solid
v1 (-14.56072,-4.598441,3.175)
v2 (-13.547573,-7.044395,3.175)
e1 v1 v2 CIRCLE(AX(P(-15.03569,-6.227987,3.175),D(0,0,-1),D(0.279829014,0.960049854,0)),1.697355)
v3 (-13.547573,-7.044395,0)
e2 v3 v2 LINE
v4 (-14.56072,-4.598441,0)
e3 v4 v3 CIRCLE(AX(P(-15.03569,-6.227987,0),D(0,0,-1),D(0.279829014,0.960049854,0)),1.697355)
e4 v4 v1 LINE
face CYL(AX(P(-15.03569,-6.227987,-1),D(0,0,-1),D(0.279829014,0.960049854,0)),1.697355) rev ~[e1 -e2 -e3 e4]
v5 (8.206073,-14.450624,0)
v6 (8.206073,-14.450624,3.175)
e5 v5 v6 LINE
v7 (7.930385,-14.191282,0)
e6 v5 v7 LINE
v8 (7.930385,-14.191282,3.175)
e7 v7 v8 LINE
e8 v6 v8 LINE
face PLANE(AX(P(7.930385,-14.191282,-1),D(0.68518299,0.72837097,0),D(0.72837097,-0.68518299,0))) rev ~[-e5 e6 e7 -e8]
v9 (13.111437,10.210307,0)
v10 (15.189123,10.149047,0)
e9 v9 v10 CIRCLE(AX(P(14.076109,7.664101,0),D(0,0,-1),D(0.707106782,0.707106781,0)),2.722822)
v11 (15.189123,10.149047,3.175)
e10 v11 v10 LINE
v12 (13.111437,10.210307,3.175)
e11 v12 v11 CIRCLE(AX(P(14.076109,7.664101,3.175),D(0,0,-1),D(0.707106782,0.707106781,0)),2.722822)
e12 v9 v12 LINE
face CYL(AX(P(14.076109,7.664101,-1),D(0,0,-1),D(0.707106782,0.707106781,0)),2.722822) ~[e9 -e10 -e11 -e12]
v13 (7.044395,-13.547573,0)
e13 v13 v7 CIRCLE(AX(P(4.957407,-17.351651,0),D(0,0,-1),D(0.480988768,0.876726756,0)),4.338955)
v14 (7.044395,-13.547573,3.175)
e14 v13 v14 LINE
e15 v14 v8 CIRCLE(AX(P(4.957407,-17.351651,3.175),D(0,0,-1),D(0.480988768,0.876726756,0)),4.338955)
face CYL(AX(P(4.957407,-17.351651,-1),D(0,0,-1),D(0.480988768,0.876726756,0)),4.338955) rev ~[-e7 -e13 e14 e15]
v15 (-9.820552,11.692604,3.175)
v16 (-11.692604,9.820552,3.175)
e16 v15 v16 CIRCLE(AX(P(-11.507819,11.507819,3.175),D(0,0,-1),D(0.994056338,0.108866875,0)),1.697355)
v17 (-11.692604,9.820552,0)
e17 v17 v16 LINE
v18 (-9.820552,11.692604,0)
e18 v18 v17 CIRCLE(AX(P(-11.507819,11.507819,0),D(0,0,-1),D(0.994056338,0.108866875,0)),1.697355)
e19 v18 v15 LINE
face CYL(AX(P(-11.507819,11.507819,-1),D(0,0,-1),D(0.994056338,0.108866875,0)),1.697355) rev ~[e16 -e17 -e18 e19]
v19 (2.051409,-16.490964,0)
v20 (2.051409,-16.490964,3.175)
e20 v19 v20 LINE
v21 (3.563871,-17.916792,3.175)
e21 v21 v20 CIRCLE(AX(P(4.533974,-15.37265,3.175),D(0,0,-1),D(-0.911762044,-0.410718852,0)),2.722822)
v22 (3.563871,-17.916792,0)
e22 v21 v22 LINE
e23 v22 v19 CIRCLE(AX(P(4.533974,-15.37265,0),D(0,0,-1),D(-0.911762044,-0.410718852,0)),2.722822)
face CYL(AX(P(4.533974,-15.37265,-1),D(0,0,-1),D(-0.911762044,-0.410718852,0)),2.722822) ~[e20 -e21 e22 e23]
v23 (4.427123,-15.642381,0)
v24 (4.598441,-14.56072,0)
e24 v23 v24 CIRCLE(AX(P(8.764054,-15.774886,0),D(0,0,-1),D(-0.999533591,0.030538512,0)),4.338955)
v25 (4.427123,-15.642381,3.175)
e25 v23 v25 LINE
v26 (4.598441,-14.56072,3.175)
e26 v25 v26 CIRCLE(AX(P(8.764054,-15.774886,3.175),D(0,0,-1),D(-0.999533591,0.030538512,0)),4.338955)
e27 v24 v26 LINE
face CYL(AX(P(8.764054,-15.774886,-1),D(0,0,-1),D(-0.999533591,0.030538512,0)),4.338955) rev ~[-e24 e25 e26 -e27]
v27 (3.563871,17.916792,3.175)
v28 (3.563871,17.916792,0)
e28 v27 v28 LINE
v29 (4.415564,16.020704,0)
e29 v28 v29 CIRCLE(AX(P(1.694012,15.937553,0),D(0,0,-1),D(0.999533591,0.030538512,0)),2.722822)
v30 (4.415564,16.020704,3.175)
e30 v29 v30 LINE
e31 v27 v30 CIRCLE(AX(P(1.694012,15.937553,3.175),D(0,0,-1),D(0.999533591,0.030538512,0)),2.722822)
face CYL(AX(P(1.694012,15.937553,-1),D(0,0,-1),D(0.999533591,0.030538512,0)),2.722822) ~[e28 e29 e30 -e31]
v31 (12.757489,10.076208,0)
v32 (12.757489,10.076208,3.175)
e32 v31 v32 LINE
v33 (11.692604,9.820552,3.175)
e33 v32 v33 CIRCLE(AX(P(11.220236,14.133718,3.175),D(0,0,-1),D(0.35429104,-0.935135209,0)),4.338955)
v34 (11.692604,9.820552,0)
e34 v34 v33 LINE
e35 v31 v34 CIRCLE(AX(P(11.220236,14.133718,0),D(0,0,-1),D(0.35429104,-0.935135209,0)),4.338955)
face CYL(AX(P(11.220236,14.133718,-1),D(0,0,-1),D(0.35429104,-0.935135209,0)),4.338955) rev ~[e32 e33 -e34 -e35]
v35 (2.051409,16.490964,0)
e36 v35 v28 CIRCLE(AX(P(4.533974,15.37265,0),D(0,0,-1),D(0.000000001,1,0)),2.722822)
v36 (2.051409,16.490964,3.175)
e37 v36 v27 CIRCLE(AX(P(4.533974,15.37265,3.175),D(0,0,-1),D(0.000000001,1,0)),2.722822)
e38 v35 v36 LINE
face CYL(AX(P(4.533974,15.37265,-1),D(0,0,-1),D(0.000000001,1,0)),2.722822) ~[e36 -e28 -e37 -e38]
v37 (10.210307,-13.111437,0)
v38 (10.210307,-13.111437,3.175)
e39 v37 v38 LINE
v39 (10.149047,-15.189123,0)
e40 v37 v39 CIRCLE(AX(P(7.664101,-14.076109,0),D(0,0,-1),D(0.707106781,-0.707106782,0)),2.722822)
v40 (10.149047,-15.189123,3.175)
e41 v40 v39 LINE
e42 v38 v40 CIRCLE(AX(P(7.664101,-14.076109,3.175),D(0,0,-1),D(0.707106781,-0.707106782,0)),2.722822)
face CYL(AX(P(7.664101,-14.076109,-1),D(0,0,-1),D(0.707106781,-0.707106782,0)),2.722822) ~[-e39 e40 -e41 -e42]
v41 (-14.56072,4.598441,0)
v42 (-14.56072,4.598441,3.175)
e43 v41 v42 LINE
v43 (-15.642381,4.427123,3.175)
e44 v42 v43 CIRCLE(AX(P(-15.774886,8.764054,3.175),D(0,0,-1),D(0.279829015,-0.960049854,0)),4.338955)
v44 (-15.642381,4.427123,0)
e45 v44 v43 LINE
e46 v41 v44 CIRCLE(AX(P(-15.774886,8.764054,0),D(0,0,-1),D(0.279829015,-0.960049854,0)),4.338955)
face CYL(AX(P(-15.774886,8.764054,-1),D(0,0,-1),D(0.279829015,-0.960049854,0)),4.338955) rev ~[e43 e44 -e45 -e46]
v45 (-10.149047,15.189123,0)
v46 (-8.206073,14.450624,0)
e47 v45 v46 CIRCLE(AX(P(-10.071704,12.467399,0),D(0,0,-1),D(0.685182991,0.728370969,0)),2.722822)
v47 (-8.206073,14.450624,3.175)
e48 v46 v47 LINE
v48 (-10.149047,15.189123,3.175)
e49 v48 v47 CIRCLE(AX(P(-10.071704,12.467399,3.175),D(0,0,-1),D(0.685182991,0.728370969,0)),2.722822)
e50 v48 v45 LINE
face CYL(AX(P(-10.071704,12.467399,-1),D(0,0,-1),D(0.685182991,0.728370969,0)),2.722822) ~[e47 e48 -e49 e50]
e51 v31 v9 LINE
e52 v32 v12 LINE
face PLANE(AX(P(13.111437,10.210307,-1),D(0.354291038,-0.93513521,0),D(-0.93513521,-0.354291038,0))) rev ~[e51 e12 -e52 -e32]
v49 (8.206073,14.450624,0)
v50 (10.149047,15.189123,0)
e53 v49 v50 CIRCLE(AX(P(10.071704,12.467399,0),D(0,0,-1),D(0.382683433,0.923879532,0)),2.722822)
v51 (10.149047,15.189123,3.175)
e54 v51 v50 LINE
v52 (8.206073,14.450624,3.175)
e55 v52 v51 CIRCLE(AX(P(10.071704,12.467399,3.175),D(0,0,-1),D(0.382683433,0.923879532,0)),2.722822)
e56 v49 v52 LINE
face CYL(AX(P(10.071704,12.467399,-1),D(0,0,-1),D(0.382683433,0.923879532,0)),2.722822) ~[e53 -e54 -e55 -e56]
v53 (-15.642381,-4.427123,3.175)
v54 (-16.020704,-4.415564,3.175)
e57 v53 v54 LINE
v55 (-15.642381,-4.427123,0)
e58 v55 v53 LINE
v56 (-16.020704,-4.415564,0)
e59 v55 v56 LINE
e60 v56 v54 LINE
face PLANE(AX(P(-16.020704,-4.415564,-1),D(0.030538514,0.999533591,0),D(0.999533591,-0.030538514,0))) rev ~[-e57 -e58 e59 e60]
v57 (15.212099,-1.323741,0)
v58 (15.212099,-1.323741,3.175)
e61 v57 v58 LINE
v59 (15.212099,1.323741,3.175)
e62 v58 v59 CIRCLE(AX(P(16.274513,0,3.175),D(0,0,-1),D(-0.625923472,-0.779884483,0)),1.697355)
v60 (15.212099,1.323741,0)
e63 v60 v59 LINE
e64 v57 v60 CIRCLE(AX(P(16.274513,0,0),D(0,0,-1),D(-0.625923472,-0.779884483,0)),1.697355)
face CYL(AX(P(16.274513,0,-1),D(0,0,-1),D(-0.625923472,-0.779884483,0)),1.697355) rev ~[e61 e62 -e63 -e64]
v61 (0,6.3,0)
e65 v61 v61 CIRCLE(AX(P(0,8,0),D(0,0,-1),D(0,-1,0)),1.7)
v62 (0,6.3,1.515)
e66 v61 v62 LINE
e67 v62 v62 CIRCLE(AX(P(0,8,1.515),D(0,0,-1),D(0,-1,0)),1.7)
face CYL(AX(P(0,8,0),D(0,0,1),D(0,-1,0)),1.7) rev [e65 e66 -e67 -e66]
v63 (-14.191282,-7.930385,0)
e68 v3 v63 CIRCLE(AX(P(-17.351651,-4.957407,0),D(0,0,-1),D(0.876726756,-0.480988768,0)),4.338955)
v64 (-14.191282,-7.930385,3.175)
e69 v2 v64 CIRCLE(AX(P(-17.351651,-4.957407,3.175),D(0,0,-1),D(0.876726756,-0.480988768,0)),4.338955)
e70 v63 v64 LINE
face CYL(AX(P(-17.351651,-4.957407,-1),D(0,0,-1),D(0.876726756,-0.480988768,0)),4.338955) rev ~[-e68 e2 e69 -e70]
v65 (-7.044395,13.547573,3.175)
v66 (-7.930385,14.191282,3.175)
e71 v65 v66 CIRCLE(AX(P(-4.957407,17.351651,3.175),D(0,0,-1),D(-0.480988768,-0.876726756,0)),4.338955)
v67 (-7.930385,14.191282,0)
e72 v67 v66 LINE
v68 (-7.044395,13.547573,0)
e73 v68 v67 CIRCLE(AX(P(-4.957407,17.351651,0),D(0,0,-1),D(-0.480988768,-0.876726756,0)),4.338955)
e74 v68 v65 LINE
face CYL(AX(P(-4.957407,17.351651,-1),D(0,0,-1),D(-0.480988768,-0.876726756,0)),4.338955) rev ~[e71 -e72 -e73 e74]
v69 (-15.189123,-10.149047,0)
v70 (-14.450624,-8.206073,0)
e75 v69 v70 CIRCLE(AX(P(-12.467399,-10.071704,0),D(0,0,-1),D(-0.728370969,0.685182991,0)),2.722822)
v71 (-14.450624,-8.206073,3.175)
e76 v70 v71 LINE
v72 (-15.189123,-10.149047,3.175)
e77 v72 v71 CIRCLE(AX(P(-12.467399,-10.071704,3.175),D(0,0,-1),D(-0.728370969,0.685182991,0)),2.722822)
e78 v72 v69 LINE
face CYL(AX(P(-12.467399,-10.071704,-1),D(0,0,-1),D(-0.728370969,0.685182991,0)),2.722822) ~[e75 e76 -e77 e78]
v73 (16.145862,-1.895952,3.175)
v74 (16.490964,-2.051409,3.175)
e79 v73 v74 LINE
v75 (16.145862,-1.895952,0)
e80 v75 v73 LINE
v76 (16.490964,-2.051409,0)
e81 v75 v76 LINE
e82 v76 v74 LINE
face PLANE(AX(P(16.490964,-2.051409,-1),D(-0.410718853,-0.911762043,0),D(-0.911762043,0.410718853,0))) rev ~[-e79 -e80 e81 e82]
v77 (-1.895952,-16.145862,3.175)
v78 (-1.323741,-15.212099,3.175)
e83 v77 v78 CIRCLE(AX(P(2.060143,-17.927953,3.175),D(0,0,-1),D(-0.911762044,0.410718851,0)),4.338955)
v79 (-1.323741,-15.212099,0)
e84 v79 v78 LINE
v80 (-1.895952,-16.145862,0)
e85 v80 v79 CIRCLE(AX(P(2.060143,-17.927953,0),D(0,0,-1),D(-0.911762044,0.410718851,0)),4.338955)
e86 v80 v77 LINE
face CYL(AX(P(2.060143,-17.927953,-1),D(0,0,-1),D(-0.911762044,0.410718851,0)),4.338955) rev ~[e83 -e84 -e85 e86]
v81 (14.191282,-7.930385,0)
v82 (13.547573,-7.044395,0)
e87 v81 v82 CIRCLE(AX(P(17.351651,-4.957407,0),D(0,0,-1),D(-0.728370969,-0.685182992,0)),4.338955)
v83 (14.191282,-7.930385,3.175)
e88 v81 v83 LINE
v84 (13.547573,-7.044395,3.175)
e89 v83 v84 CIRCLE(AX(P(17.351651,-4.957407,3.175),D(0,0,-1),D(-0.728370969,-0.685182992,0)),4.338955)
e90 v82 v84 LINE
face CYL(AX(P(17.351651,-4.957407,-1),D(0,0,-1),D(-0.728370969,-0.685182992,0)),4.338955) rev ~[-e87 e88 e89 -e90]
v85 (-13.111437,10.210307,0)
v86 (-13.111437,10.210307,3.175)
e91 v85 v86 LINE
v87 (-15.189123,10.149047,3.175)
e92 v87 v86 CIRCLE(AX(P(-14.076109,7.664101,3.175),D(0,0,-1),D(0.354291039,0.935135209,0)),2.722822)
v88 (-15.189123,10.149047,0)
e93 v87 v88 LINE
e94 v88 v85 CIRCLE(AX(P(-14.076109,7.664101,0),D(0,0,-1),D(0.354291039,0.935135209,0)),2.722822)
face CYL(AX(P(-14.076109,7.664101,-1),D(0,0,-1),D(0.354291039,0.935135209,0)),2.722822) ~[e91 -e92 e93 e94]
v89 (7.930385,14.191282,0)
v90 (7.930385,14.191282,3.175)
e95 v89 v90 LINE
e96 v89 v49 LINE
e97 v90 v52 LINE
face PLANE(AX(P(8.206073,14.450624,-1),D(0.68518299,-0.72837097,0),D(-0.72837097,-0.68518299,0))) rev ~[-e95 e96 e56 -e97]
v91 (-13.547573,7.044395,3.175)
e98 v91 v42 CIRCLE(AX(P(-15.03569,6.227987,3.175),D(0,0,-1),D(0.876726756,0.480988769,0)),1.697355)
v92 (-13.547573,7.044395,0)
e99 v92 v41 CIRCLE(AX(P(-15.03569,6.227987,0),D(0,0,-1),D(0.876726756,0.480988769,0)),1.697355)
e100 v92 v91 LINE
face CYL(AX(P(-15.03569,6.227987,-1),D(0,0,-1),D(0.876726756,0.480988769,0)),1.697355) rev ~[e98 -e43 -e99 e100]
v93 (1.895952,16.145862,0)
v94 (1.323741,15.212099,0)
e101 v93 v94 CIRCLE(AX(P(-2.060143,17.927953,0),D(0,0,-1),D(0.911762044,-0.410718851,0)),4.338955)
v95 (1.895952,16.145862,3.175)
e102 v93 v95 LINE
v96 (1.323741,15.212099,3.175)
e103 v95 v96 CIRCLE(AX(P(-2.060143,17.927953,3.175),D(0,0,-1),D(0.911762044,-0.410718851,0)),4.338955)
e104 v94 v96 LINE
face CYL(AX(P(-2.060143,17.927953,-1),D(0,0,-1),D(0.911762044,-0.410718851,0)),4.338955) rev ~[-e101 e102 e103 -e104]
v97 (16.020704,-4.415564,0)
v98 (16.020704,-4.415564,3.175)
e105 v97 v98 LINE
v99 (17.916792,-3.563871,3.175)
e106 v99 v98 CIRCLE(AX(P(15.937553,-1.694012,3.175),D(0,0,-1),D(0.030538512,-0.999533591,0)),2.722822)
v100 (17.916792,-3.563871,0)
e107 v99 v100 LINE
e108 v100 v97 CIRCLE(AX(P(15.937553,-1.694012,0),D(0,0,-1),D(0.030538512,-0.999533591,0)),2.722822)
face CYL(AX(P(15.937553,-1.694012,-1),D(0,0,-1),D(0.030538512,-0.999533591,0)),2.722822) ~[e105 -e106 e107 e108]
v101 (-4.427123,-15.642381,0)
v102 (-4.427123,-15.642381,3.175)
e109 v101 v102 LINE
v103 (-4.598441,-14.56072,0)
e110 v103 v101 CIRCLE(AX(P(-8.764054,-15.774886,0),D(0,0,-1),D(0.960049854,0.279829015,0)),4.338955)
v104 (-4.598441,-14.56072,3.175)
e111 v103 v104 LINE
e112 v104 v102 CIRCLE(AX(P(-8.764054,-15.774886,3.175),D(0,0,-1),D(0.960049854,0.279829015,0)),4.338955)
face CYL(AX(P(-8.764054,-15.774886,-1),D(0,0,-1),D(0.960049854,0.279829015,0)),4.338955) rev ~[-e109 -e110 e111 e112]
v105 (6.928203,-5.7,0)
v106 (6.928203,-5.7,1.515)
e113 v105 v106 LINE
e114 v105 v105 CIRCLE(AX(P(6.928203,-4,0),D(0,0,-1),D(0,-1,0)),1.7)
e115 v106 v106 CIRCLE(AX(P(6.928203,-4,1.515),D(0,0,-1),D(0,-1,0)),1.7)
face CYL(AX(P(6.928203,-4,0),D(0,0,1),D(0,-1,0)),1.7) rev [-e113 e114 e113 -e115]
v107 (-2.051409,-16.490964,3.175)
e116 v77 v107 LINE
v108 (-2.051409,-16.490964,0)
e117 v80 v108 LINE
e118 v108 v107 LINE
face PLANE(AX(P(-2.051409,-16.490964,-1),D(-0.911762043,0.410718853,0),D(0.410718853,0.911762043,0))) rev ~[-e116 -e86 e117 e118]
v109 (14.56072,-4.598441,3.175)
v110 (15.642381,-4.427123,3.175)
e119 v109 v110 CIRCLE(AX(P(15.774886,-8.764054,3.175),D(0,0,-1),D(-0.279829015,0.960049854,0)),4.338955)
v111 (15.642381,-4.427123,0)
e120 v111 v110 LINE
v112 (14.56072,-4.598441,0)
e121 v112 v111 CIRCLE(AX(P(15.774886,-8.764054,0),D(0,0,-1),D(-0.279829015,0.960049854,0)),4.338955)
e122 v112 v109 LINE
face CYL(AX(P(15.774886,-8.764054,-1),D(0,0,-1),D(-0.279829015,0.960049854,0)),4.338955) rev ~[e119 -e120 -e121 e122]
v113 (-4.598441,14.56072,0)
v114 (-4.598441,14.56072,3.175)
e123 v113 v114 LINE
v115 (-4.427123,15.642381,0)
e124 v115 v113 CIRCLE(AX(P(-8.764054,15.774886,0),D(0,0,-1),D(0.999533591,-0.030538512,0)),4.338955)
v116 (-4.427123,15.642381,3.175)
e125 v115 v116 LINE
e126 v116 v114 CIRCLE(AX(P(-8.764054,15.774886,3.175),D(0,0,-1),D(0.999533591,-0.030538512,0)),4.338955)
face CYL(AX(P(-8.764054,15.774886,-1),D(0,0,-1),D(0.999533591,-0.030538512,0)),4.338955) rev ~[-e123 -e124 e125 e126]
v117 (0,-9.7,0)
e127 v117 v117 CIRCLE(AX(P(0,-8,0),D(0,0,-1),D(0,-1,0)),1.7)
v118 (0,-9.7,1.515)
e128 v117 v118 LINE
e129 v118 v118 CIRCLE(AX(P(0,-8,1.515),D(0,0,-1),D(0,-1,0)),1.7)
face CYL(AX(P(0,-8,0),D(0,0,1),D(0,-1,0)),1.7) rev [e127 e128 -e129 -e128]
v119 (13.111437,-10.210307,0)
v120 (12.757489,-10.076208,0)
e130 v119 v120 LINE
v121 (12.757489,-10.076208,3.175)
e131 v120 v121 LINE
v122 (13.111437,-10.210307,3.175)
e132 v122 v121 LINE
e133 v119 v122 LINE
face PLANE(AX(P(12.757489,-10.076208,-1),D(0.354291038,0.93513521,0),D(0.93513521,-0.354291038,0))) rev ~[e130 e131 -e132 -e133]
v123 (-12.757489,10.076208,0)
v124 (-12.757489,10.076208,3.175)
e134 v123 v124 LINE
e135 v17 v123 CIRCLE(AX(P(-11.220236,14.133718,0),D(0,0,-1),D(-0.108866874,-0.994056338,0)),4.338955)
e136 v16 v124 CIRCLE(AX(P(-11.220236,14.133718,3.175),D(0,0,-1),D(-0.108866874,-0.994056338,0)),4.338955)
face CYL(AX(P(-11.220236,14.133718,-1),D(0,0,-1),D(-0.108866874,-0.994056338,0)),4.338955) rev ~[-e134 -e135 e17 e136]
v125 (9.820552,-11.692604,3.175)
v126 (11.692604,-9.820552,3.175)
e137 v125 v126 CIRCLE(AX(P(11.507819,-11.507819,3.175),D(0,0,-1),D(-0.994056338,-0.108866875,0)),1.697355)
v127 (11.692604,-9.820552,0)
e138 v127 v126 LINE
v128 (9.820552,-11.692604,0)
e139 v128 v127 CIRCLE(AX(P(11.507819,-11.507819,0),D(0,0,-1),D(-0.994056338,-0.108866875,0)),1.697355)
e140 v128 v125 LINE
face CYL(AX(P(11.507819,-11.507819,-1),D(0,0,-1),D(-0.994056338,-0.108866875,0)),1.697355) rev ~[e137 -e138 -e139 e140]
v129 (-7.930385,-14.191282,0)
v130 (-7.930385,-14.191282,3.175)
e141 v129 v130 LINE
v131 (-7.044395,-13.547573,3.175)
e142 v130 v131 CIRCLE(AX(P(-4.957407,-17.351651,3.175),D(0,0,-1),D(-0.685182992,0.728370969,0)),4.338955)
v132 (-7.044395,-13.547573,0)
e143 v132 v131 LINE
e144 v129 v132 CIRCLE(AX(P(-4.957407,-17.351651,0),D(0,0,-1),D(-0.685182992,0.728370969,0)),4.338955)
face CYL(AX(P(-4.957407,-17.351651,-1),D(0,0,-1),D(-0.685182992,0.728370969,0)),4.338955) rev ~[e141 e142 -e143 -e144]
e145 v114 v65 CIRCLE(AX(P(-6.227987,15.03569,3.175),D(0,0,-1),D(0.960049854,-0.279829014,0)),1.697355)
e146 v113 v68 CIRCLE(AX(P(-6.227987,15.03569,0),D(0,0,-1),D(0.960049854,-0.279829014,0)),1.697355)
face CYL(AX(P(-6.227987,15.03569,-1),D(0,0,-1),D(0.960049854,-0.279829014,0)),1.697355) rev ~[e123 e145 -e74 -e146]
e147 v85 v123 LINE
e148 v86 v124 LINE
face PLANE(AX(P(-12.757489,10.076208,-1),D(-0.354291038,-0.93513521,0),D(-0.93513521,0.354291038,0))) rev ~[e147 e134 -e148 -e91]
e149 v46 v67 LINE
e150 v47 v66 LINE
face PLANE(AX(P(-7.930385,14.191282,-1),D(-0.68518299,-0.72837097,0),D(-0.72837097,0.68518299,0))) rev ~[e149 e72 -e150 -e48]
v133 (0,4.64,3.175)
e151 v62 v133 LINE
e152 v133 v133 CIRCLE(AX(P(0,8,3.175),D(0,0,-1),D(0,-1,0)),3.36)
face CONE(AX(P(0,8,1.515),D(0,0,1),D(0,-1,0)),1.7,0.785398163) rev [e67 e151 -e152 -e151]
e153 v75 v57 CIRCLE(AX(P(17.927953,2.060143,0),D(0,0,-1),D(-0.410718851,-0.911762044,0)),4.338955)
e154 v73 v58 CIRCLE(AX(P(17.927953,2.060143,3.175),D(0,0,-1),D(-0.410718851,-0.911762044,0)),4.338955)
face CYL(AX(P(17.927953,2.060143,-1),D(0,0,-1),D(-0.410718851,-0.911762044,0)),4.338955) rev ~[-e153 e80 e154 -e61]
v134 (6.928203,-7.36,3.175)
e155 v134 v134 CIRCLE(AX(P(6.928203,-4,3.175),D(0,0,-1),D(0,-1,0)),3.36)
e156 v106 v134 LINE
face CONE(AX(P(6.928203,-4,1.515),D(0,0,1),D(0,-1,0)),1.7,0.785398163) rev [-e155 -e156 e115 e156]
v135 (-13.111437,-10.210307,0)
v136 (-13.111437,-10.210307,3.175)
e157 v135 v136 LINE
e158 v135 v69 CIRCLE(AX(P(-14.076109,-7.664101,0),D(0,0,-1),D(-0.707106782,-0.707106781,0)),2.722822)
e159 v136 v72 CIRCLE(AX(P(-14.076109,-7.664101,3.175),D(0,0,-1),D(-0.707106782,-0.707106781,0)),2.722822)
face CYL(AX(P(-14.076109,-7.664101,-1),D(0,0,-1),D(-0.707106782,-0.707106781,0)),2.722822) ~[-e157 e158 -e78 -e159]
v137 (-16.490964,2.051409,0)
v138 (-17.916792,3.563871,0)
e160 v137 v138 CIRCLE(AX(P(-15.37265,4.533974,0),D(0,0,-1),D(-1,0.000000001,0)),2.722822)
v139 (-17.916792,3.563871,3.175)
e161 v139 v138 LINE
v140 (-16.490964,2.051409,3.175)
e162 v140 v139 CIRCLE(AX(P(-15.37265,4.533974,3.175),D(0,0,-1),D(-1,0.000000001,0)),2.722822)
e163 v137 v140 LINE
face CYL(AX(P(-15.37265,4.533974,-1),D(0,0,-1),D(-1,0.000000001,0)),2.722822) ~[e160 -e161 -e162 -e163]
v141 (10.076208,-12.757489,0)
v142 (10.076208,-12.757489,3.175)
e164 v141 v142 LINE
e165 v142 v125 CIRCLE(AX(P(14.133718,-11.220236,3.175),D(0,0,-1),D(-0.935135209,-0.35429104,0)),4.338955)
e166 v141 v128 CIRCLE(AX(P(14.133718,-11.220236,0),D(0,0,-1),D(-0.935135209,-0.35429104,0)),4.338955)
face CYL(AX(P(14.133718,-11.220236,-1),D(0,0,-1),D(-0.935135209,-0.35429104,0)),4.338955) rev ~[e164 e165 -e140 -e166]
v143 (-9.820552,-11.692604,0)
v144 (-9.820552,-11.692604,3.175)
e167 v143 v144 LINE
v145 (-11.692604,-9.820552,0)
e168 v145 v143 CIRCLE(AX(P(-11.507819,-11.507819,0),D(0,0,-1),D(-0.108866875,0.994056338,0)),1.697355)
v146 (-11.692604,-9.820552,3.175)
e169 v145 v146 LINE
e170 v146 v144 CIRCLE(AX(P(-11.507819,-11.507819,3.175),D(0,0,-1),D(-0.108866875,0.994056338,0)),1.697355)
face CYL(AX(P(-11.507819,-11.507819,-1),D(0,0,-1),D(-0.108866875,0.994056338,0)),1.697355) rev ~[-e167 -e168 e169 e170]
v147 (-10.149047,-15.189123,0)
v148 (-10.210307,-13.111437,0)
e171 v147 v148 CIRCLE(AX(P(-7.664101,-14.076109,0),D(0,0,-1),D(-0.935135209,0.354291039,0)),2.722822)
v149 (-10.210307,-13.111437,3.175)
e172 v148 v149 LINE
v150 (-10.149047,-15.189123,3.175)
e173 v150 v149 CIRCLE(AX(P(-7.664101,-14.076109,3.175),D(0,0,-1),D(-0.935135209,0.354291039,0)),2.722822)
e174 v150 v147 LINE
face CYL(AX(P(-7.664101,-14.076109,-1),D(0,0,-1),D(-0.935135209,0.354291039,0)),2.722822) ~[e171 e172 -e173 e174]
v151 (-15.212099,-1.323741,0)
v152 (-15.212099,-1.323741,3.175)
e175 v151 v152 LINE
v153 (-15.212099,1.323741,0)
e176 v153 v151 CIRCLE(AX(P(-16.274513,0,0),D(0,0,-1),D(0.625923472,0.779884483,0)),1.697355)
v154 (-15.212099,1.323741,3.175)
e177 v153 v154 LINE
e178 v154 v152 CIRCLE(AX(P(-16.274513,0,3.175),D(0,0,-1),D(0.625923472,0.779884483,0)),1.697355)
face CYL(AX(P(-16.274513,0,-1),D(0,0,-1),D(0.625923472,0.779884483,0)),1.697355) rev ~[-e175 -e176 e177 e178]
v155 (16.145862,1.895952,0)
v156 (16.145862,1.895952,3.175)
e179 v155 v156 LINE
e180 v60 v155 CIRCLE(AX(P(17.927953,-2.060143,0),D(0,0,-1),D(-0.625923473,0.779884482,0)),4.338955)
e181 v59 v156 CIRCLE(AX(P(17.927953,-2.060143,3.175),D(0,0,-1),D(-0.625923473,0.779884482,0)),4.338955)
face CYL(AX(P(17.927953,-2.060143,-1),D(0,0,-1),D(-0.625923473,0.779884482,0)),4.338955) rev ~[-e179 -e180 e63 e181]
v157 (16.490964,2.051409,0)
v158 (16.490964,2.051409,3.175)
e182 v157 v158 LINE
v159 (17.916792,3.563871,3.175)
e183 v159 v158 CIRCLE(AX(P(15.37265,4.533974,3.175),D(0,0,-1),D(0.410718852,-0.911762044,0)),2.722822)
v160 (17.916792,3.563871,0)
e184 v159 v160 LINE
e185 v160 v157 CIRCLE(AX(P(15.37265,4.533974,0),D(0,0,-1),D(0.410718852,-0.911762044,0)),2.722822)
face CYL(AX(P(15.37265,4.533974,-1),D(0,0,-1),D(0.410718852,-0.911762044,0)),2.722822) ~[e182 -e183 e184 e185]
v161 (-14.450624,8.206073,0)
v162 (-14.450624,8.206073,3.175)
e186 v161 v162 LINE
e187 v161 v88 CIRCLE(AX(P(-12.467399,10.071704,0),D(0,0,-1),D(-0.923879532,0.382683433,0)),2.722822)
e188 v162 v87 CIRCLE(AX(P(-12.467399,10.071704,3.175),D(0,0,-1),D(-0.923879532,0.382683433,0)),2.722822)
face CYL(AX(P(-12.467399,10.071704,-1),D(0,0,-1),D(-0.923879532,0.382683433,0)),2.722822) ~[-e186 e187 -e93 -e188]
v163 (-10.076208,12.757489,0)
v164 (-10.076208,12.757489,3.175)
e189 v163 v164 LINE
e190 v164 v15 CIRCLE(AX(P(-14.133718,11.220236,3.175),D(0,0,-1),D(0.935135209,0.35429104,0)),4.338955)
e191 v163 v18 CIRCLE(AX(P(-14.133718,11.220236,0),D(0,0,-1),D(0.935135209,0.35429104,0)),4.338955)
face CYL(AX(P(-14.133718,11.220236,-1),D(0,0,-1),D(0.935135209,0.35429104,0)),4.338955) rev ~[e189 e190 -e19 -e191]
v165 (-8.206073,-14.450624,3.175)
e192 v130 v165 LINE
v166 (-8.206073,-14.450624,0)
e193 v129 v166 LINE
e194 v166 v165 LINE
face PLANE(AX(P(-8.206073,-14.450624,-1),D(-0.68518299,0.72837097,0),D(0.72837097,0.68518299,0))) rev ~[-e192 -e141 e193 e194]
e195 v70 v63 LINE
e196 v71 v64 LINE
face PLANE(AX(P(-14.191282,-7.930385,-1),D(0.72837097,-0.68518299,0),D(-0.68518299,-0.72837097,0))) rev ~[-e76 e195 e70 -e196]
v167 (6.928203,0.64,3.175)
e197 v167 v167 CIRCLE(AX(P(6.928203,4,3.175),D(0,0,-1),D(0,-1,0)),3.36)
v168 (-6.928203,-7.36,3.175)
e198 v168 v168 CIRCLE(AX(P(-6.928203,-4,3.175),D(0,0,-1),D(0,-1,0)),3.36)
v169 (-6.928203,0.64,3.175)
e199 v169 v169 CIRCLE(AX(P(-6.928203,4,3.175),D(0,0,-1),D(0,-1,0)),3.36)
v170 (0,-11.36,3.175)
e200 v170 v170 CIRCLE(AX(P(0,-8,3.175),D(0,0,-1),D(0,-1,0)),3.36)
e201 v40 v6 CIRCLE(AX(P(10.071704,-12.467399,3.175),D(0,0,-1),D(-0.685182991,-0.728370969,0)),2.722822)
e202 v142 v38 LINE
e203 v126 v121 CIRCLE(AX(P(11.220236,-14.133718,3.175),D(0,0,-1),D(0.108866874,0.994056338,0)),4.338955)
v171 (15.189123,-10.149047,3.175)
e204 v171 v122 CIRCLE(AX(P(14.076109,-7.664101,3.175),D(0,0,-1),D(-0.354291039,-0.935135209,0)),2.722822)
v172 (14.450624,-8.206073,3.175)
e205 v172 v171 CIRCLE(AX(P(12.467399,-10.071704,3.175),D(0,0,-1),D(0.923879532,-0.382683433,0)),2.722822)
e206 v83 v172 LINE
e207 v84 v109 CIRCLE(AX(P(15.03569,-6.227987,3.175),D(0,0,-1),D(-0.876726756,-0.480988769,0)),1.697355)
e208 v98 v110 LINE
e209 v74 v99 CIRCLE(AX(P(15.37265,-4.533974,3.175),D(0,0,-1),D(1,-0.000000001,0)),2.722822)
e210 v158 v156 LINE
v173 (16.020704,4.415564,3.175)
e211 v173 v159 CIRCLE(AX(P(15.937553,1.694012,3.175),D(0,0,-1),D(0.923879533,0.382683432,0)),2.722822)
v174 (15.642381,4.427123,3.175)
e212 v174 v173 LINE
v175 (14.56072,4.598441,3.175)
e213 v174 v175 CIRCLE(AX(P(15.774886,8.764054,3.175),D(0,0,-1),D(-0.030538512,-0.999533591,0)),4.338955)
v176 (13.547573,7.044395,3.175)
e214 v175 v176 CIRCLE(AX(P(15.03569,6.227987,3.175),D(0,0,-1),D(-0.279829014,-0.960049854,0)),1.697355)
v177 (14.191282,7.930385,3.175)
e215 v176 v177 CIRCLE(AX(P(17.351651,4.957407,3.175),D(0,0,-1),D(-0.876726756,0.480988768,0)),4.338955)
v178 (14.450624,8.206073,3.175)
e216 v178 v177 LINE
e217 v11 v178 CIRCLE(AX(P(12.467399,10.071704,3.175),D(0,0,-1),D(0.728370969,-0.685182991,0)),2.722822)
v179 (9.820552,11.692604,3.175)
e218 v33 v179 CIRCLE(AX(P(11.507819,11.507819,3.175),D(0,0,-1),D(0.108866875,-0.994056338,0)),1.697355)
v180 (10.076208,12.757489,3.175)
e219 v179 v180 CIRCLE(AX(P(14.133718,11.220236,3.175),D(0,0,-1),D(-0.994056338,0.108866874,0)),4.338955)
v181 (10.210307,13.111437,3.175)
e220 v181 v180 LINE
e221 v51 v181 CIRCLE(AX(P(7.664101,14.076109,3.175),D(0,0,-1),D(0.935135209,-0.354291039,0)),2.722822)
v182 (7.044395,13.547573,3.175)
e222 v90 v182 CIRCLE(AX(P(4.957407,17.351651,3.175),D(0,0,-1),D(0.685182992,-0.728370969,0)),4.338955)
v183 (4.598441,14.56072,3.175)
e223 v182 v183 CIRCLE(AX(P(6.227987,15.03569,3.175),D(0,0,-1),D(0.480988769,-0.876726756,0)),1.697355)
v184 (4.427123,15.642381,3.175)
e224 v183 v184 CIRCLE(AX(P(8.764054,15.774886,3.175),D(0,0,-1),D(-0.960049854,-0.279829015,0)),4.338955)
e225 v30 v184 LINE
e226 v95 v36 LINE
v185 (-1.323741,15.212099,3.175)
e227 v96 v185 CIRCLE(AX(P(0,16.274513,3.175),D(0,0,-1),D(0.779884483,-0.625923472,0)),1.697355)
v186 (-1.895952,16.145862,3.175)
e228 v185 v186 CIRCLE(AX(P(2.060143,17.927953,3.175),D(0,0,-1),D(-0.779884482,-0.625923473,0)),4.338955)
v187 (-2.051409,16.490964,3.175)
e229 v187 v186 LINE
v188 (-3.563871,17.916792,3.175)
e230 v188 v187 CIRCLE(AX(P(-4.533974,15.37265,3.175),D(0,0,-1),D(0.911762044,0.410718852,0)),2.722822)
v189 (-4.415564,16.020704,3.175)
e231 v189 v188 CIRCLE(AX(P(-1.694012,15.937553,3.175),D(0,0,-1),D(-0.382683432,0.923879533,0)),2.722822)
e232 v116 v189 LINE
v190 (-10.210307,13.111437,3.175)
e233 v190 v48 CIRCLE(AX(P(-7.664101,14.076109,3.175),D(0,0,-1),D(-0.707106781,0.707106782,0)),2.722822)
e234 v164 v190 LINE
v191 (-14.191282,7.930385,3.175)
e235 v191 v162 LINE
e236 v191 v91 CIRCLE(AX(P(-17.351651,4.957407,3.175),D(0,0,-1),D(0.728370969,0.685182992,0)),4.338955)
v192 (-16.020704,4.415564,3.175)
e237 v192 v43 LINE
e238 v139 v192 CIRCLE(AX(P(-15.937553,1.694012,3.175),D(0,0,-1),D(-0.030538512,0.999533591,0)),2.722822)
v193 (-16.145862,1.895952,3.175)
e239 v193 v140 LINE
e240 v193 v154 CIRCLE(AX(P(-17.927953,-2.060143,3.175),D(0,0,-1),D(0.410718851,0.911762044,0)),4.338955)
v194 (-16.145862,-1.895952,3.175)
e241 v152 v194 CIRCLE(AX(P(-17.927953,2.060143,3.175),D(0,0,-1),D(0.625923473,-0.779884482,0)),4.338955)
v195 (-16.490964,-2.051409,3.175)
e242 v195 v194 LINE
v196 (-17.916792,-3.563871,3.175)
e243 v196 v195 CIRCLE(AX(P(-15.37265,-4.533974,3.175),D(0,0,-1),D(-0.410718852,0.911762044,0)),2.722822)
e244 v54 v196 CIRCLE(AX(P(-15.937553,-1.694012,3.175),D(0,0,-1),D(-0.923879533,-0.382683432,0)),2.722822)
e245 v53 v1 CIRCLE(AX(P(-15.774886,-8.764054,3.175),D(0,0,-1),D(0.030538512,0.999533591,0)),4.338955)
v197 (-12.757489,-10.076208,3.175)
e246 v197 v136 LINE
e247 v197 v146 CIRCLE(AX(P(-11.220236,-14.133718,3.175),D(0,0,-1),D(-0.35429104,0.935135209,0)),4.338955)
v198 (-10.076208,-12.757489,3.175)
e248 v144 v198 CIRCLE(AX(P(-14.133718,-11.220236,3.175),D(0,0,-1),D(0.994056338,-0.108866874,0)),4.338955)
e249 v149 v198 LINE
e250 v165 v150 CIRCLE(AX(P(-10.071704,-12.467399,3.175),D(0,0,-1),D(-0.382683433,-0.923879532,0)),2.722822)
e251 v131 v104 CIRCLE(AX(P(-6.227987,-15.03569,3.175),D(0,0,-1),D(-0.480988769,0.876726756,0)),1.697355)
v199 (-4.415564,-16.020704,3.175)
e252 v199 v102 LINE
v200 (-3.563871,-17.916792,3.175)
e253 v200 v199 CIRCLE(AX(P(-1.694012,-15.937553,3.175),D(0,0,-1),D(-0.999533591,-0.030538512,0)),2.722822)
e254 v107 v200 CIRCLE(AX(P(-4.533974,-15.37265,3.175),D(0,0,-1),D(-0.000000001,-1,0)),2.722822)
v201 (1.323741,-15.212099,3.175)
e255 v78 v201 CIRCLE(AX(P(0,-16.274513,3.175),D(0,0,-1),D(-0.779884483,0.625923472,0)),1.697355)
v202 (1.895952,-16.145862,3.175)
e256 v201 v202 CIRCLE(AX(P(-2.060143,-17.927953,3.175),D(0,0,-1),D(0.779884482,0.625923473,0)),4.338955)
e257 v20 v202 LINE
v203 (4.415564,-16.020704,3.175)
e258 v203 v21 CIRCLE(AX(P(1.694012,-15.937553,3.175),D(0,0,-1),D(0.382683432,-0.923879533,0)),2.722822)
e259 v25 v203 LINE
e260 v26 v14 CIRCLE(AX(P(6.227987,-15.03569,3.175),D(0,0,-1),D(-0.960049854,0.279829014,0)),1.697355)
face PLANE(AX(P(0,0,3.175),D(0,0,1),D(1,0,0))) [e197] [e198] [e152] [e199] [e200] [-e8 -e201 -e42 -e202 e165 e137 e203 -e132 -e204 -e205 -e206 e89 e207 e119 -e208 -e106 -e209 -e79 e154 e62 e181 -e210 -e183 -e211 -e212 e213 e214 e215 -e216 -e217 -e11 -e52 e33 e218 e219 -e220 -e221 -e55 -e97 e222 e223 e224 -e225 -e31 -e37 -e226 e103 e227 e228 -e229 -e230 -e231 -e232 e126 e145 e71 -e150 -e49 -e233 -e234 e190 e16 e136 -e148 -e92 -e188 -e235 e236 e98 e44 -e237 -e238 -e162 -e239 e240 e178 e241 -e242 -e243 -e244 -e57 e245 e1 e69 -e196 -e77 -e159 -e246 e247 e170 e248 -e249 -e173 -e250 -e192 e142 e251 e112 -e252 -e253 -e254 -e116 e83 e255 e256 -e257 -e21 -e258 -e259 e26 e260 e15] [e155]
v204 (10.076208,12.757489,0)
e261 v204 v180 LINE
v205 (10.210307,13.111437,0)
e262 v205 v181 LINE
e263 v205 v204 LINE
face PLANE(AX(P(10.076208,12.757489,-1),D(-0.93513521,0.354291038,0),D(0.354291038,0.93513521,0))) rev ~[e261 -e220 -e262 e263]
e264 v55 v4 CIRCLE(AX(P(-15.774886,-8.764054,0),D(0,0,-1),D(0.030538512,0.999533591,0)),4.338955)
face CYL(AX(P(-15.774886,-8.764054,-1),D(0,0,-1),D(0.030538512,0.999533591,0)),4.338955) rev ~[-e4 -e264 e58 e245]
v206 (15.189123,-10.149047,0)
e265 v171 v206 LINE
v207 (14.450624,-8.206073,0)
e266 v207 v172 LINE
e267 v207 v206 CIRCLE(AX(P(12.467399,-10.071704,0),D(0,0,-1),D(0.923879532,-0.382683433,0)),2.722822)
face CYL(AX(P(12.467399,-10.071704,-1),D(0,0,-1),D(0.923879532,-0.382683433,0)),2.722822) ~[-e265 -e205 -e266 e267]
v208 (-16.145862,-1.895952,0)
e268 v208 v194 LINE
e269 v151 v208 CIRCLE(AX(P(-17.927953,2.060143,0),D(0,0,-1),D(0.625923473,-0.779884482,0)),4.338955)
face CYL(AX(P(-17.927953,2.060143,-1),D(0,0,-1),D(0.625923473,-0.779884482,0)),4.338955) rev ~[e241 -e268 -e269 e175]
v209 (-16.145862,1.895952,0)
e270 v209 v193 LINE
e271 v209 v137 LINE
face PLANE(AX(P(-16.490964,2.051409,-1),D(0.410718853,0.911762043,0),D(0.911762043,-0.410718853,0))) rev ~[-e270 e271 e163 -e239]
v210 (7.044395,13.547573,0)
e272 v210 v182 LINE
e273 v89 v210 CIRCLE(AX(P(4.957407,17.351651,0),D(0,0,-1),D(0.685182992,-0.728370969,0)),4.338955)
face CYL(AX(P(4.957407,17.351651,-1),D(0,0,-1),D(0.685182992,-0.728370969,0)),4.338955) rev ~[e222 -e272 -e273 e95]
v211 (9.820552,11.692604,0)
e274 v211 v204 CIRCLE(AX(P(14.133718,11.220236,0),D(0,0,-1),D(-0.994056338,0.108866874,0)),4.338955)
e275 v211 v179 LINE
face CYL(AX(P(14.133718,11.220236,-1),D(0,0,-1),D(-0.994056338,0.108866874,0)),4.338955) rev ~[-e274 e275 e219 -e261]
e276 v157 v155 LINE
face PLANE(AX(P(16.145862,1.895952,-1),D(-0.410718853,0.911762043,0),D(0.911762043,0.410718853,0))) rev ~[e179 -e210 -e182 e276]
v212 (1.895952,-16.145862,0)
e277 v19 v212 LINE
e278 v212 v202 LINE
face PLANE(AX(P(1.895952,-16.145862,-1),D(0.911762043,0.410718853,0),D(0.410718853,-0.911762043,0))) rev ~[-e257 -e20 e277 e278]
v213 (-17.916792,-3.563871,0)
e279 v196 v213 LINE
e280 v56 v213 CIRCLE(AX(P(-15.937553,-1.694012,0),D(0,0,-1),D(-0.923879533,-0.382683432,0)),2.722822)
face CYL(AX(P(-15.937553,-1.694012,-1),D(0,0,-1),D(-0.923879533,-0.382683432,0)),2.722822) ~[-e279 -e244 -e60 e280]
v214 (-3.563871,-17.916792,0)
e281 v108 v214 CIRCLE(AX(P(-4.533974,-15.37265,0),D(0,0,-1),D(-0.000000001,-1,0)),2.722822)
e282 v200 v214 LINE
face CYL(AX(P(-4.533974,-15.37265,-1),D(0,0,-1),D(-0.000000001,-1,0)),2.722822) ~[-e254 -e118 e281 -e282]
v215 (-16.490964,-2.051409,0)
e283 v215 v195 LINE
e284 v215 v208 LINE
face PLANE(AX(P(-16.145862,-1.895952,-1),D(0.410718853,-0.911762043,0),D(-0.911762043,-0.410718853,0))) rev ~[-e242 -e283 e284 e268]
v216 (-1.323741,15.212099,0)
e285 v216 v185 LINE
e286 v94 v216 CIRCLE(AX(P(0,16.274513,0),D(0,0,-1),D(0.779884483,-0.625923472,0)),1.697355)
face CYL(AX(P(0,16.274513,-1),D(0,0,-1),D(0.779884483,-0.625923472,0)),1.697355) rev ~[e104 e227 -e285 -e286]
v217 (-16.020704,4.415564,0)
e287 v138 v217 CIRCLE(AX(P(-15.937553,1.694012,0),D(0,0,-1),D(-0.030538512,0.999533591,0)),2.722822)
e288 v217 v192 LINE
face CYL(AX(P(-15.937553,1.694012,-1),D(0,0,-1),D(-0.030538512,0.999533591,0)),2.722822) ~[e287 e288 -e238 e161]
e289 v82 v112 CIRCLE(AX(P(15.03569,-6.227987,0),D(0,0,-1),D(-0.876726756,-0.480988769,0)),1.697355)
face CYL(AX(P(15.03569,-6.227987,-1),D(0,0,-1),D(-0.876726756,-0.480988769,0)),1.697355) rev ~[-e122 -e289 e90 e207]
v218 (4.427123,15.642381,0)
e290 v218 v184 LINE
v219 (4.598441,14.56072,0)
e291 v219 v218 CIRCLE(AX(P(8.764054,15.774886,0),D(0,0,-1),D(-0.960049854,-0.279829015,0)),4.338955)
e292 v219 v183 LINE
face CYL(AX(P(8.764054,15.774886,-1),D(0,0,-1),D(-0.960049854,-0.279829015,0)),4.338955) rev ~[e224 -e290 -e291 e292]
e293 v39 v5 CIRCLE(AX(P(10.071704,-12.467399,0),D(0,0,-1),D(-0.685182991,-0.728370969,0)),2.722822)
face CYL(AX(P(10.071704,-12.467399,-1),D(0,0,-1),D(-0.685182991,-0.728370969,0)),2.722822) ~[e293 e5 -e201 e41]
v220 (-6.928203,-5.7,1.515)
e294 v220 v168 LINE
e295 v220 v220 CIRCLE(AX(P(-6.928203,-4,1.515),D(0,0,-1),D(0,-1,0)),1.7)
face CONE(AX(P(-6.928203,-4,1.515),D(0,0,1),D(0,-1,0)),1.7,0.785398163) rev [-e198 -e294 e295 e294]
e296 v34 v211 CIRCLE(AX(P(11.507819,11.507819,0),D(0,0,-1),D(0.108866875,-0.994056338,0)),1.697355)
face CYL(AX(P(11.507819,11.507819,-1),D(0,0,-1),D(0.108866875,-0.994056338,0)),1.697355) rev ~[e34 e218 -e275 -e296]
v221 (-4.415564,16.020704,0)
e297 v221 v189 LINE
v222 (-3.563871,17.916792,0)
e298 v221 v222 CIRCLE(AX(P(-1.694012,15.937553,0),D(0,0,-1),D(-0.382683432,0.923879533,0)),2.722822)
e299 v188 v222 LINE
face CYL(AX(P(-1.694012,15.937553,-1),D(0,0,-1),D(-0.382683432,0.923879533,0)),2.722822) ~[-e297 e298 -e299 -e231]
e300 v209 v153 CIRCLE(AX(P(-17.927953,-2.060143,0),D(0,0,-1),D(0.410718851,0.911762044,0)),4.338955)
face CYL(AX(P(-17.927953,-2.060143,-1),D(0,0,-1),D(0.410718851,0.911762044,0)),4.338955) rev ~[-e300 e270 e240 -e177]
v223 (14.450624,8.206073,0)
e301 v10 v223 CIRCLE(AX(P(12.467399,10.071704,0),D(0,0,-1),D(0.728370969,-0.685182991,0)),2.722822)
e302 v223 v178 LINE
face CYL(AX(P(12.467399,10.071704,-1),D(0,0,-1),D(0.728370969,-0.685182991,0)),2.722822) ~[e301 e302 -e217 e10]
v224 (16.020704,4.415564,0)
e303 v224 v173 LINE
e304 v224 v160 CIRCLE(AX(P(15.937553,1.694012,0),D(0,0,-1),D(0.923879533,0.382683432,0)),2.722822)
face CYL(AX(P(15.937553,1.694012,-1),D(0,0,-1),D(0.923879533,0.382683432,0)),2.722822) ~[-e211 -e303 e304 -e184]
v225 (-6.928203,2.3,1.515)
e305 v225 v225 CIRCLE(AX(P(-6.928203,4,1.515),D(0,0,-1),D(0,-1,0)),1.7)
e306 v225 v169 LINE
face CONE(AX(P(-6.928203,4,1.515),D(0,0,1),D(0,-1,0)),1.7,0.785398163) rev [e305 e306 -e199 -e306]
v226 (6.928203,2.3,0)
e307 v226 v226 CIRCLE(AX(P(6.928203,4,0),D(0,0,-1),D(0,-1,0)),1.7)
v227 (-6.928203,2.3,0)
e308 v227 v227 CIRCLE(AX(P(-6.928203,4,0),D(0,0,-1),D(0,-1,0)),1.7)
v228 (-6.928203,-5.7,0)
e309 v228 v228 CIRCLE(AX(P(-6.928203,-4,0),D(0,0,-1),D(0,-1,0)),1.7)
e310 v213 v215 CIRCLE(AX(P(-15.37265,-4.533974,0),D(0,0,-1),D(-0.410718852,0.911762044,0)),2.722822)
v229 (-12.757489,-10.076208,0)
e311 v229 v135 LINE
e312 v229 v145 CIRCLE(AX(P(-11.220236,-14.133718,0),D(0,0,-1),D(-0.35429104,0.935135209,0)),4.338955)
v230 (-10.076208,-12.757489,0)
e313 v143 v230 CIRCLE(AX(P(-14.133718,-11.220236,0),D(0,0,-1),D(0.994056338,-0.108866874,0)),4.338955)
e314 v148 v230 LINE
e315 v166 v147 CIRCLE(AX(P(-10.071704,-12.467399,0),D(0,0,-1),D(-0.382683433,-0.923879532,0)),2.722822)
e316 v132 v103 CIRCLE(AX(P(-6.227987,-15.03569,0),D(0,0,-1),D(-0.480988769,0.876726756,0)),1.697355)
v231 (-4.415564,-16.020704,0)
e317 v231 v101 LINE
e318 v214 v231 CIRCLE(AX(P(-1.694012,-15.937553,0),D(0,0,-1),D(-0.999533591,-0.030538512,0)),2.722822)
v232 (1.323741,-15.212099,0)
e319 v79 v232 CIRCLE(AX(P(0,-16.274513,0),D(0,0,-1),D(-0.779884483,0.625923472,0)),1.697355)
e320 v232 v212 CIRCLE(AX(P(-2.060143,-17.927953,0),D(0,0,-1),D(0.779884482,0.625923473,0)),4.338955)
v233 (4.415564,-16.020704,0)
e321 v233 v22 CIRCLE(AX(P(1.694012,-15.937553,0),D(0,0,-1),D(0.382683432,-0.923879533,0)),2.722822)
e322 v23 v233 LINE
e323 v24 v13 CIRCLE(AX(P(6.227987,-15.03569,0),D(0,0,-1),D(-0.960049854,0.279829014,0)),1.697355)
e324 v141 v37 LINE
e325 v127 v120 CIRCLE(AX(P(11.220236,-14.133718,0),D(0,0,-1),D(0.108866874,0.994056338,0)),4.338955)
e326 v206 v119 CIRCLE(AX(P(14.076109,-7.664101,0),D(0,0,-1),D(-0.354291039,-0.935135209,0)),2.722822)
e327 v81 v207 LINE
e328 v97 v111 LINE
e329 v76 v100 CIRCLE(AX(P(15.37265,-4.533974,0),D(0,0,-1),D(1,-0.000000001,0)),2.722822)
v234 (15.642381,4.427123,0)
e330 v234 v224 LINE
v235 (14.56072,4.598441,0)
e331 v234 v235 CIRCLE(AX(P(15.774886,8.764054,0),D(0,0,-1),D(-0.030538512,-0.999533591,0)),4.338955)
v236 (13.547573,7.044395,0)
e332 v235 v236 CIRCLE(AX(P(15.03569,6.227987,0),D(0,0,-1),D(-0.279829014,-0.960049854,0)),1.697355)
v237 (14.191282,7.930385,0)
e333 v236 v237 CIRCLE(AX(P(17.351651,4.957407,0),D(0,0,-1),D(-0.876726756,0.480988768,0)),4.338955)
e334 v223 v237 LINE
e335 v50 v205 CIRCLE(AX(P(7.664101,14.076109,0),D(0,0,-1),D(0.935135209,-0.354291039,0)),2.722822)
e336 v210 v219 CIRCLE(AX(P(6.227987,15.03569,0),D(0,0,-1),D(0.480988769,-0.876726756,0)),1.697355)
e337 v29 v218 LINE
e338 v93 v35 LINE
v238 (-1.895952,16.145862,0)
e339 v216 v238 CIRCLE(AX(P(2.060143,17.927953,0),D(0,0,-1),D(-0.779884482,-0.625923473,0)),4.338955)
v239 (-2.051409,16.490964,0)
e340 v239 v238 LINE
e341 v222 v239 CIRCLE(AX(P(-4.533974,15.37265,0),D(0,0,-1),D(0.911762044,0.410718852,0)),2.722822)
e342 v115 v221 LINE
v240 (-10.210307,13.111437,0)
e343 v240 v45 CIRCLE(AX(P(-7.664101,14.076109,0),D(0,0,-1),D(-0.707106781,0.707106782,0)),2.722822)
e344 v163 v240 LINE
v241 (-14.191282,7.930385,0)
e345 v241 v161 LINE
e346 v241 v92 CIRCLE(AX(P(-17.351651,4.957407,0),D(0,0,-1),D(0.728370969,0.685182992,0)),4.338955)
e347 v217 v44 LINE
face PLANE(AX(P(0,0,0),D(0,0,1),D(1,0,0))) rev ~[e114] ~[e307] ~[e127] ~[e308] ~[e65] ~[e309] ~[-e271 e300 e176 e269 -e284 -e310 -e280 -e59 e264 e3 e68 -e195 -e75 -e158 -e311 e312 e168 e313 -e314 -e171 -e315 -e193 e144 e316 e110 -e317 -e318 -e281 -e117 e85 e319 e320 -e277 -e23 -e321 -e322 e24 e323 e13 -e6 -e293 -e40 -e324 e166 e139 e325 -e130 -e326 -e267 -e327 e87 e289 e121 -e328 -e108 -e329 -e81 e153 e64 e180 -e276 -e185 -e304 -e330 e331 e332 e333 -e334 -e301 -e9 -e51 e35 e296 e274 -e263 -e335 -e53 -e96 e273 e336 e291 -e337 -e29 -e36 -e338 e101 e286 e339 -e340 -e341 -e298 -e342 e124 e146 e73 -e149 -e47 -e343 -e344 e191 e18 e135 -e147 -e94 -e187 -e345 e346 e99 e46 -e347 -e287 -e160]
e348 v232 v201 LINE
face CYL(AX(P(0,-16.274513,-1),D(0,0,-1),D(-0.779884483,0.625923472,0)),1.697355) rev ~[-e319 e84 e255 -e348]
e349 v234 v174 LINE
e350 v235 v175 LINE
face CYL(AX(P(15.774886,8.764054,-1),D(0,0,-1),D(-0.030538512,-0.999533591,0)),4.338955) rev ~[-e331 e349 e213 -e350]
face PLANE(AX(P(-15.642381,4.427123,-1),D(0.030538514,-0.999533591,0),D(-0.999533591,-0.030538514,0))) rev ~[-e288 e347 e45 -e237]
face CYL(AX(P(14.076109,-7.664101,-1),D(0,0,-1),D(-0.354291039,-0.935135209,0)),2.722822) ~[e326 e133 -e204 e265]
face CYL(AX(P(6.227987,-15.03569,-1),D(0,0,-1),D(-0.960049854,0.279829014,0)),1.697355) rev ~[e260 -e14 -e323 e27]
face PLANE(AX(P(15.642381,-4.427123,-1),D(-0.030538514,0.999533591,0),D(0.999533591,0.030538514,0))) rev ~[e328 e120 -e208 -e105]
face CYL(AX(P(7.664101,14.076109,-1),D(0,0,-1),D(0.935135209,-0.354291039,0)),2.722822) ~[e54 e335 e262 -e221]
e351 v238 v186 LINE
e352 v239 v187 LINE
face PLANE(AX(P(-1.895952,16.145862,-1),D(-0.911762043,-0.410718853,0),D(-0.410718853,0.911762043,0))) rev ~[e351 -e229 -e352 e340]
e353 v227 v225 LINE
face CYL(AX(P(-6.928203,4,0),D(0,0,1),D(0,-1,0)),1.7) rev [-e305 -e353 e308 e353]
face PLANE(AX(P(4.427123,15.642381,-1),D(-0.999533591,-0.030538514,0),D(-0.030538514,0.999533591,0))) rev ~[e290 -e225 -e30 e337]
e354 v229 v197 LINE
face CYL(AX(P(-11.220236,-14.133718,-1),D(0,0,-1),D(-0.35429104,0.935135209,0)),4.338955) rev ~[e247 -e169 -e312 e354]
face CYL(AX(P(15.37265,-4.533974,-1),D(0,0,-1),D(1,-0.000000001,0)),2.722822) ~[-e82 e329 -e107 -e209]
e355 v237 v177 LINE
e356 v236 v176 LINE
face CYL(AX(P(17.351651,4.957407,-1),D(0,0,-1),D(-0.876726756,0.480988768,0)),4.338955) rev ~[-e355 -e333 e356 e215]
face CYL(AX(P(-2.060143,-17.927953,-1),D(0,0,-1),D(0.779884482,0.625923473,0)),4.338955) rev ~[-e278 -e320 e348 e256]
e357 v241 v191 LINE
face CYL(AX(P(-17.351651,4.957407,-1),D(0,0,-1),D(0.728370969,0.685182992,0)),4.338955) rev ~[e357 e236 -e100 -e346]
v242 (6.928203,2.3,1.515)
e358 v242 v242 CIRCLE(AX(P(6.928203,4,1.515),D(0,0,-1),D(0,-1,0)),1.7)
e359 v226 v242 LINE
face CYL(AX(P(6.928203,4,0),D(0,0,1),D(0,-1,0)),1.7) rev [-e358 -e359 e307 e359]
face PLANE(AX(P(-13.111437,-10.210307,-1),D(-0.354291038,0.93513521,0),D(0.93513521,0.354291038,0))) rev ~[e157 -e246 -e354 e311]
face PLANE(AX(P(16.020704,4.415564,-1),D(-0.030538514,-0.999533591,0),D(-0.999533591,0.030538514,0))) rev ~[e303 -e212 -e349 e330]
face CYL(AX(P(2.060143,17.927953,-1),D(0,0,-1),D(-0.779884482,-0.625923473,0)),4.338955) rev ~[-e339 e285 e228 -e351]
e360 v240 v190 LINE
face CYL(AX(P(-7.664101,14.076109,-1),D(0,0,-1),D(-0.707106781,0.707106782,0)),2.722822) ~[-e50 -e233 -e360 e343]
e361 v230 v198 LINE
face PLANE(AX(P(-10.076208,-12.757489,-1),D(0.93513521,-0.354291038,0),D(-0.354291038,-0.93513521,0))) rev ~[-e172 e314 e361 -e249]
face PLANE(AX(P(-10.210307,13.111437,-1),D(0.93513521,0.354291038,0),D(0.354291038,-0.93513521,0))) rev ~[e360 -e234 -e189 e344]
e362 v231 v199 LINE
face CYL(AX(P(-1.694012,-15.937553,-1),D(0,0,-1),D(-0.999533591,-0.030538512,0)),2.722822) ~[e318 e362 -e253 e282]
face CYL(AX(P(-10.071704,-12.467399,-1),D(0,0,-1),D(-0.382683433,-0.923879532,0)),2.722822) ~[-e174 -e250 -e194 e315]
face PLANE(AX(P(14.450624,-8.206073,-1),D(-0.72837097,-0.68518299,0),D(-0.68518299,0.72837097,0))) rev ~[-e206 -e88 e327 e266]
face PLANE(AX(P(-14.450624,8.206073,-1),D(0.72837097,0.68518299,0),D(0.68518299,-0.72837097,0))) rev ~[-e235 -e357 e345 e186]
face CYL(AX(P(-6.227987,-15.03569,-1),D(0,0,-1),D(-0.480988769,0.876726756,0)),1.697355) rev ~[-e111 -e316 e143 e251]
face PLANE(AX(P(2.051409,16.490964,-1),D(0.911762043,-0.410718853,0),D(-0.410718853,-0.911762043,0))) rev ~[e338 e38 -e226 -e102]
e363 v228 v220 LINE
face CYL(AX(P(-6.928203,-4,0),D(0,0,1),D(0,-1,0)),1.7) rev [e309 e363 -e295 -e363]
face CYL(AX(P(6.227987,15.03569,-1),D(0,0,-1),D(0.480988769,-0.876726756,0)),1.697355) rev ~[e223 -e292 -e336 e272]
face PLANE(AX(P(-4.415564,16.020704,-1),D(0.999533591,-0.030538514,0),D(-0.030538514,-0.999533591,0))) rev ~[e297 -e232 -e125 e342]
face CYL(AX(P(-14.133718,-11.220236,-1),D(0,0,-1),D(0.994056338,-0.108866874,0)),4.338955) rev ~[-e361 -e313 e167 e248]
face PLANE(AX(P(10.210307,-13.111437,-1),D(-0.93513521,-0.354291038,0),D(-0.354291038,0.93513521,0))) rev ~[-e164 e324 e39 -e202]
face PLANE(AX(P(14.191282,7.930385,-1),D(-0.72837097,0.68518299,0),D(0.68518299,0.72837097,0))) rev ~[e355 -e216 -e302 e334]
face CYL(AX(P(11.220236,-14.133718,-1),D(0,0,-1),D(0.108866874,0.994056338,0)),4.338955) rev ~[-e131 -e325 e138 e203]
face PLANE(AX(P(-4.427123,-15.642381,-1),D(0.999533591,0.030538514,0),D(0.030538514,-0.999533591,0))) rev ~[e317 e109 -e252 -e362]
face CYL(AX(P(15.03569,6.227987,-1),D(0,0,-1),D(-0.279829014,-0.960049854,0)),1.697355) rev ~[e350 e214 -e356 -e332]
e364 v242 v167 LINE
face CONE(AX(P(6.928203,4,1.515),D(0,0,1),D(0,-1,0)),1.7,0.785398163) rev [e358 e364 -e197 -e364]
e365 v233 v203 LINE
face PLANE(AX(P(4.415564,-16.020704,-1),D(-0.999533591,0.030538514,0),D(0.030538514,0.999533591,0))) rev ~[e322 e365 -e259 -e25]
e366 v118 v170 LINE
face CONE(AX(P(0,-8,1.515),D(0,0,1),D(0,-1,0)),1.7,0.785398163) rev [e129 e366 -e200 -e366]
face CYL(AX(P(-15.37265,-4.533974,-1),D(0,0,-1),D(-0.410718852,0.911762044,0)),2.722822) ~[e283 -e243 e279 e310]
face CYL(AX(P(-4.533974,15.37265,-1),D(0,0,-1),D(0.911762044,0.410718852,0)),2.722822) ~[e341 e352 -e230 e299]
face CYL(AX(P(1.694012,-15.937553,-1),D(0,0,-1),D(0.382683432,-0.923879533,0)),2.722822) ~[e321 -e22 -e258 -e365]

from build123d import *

# Parameters (mm, degrees)
SKETCH3_R                    = 18.654838605
BOSS_EXTRUDE1_DEPTH          = 3.175
CUT_EXTRUDE1_START           = -1
CUT_EXTRUDE1_DEPTH           = 5.175
CIRPATTERN1_COUNT            = 16
CSK_FOR_M3_SFHCS1_AT_2_COUNT = 2
CSK_FOR_M3_SFHCS1_AT_2_PITCH = 8
CSK_FOR_M3_SFHCS1_AT_3_COUNT = 2
CSK_FOR_M3_SFHCS1_AT_3_PITCH = 13.856406461
CSK_FOR_M3_SFHCS1_AT_4_COUNT = 2
CSK_FOR_M3_SFHCS1_AT_4_PITCH = 16
CSK_FOR_M3_SFHCS1_AT_5_COUNT = 2
CSK_FOR_M3_SFHCS1_AT_5_PITCH = 13.856406461
CSK_FOR_M3_SFHCS1_AT_6_COUNT = 2
CSK_FOR_M3_SFHCS1_AT_6_PITCH = 8


with BuildPart() as part:
    # Sketch3 → Boss-Extrude1 (new body)
    with BuildSketch(Plane.XY):
        Circle(SKETCH3_R)
    extrude(amount=BOSS_EXTRUDE1_DEPTH)

    # Sketch2 → Cut-Extrude1 (cut)
    with BuildSketch(Plane.XY.offset(CUT_EXTRUDE1_START)):
        with BuildLine():
            Line((101.443267524, 18.095471295), (4.533974194, 18.095471295))
            ThreePointArc((4.533974194, 18.095471295), (3.056004647, 17.659429879), (2.051408678, 16.490963774))
            Line((2.051408678, 16.490963774), (1.895951627, 16.145861918))
            ThreePointArc((1.895951627, 16.145861918), (1.639424454, 15.660854777), (1.323740827, 15.212098758))
            ThreePointArc((1.323740827, 15.212098758), (0, 14.577158093), (-1.323740827, 15.212098758))
            ThreePointArc((-1.323740827, 15.212098758), (-1.639424454, 15.660854777), (-1.895951627, 16.145861918))
            Line((-1.895951627, 16.145861918), (-2.051408678, 16.490963774))
            ThreePointArc((-2.051408678, 16.490963774), (-3.056004647, 17.659429879), (-4.533974194, 18.095471295))
            Line((-4.533974194, 18.095471295), (-101.443267524, 18.095471295))
            Line((-101.443267524, 18.095471295), (-101.443267524, 211.914057954))
            Line((-101.443267524, 211.914057954), (101.443267524, 211.914057954))
            Line((101.443267524, 211.914057954), (101.443267524, 18.095471295))
        make_face()
    cut_extrude1 = extrude(amount=CUT_EXTRUDE1_DEPTH, mode=Mode.SUBTRACT)

    # CirPattern1: Cut-Extrude1 ×16 about axis
    cirpattern1_axis = Axis((0, 0, -80.9), (0, 0, 1))
    for i in range(1, CIRPATTERN1_COUNT):
        add(cut_extrude1.rotate(cirpattern1_axis, i * 360 / CIRPATTERN1_COUNT), mode=Mode.SUBTRACT)

    # Sketch5 → CSK for M3 SFHCS1 (revolve, cut)
    with BuildSketch(Plane(origin=(0, 8, 3.175), x_dir=(0, -1, 0), z_dir=(1, 0, 0))):
        Polygon((0, 0), (0, 3.175), (1.7, 3.175), (1.7, 1.66), (3.36, 0), align=None)
    csk_for_m3_sfhcs1 = revolve(axis=Axis((0, 8, 9.525), (0, 0, -1)), mode=Mode.SUBTRACT)

    # CSK for M3 SFHCS1 at 2: CSK for M3 SFHCS1 ×2
    with Locations(*[Vector(0.866025404, -0.5, 0) * (i * CSK_FOR_M3_SFHCS1_AT_2_PITCH) for i in range(1, CSK_FOR_M3_SFHCS1_AT_2_COUNT)]):
        add(csk_for_m3_sfhcs1, mode=Mode.SUBTRACT)

    # CSK for M3 SFHCS1 at 3: CSK for M3 SFHCS1 ×2
    with Locations(*[Vector(0.5, -0.866025404, 0) * (i * CSK_FOR_M3_SFHCS1_AT_3_PITCH) for i in range(1, CSK_FOR_M3_SFHCS1_AT_3_COUNT)]):
        add(csk_for_m3_sfhcs1, mode=Mode.SUBTRACT)

    # CSK for M3 SFHCS1 at 4: CSK for M3 SFHCS1 ×2
    with Locations(*[(0, -i * CSK_FOR_M3_SFHCS1_AT_4_PITCH, 0) for i in range(1, CSK_FOR_M3_SFHCS1_AT_4_COUNT)]):
        add(csk_for_m3_sfhcs1, mode=Mode.SUBTRACT)

    # CSK for M3 SFHCS1 at 5: CSK for M3 SFHCS1 ×2
    with Locations(*[Vector(-0.5, -0.866025404, 0) * (i * CSK_FOR_M3_SFHCS1_AT_5_PITCH) for i in range(1, CSK_FOR_M3_SFHCS1_AT_5_COUNT)]):
        add(csk_for_m3_sfhcs1, mode=Mode.SUBTRACT)

    # CSK for M3 SFHCS1 at 6: CSK for M3 SFHCS1 ×2
    with Locations(*[Vector(-0.866025404, -0.5, 0) * (i * CSK_FOR_M3_SFHCS1_AT_6_PITCH) for i in range(1, CSK_FOR_M3_SFHCS1_AT_6_COUNT)]):
        add(csk_for_m3_sfhcs1, mode=Mode.SUBTRACT)


solid = part.part
